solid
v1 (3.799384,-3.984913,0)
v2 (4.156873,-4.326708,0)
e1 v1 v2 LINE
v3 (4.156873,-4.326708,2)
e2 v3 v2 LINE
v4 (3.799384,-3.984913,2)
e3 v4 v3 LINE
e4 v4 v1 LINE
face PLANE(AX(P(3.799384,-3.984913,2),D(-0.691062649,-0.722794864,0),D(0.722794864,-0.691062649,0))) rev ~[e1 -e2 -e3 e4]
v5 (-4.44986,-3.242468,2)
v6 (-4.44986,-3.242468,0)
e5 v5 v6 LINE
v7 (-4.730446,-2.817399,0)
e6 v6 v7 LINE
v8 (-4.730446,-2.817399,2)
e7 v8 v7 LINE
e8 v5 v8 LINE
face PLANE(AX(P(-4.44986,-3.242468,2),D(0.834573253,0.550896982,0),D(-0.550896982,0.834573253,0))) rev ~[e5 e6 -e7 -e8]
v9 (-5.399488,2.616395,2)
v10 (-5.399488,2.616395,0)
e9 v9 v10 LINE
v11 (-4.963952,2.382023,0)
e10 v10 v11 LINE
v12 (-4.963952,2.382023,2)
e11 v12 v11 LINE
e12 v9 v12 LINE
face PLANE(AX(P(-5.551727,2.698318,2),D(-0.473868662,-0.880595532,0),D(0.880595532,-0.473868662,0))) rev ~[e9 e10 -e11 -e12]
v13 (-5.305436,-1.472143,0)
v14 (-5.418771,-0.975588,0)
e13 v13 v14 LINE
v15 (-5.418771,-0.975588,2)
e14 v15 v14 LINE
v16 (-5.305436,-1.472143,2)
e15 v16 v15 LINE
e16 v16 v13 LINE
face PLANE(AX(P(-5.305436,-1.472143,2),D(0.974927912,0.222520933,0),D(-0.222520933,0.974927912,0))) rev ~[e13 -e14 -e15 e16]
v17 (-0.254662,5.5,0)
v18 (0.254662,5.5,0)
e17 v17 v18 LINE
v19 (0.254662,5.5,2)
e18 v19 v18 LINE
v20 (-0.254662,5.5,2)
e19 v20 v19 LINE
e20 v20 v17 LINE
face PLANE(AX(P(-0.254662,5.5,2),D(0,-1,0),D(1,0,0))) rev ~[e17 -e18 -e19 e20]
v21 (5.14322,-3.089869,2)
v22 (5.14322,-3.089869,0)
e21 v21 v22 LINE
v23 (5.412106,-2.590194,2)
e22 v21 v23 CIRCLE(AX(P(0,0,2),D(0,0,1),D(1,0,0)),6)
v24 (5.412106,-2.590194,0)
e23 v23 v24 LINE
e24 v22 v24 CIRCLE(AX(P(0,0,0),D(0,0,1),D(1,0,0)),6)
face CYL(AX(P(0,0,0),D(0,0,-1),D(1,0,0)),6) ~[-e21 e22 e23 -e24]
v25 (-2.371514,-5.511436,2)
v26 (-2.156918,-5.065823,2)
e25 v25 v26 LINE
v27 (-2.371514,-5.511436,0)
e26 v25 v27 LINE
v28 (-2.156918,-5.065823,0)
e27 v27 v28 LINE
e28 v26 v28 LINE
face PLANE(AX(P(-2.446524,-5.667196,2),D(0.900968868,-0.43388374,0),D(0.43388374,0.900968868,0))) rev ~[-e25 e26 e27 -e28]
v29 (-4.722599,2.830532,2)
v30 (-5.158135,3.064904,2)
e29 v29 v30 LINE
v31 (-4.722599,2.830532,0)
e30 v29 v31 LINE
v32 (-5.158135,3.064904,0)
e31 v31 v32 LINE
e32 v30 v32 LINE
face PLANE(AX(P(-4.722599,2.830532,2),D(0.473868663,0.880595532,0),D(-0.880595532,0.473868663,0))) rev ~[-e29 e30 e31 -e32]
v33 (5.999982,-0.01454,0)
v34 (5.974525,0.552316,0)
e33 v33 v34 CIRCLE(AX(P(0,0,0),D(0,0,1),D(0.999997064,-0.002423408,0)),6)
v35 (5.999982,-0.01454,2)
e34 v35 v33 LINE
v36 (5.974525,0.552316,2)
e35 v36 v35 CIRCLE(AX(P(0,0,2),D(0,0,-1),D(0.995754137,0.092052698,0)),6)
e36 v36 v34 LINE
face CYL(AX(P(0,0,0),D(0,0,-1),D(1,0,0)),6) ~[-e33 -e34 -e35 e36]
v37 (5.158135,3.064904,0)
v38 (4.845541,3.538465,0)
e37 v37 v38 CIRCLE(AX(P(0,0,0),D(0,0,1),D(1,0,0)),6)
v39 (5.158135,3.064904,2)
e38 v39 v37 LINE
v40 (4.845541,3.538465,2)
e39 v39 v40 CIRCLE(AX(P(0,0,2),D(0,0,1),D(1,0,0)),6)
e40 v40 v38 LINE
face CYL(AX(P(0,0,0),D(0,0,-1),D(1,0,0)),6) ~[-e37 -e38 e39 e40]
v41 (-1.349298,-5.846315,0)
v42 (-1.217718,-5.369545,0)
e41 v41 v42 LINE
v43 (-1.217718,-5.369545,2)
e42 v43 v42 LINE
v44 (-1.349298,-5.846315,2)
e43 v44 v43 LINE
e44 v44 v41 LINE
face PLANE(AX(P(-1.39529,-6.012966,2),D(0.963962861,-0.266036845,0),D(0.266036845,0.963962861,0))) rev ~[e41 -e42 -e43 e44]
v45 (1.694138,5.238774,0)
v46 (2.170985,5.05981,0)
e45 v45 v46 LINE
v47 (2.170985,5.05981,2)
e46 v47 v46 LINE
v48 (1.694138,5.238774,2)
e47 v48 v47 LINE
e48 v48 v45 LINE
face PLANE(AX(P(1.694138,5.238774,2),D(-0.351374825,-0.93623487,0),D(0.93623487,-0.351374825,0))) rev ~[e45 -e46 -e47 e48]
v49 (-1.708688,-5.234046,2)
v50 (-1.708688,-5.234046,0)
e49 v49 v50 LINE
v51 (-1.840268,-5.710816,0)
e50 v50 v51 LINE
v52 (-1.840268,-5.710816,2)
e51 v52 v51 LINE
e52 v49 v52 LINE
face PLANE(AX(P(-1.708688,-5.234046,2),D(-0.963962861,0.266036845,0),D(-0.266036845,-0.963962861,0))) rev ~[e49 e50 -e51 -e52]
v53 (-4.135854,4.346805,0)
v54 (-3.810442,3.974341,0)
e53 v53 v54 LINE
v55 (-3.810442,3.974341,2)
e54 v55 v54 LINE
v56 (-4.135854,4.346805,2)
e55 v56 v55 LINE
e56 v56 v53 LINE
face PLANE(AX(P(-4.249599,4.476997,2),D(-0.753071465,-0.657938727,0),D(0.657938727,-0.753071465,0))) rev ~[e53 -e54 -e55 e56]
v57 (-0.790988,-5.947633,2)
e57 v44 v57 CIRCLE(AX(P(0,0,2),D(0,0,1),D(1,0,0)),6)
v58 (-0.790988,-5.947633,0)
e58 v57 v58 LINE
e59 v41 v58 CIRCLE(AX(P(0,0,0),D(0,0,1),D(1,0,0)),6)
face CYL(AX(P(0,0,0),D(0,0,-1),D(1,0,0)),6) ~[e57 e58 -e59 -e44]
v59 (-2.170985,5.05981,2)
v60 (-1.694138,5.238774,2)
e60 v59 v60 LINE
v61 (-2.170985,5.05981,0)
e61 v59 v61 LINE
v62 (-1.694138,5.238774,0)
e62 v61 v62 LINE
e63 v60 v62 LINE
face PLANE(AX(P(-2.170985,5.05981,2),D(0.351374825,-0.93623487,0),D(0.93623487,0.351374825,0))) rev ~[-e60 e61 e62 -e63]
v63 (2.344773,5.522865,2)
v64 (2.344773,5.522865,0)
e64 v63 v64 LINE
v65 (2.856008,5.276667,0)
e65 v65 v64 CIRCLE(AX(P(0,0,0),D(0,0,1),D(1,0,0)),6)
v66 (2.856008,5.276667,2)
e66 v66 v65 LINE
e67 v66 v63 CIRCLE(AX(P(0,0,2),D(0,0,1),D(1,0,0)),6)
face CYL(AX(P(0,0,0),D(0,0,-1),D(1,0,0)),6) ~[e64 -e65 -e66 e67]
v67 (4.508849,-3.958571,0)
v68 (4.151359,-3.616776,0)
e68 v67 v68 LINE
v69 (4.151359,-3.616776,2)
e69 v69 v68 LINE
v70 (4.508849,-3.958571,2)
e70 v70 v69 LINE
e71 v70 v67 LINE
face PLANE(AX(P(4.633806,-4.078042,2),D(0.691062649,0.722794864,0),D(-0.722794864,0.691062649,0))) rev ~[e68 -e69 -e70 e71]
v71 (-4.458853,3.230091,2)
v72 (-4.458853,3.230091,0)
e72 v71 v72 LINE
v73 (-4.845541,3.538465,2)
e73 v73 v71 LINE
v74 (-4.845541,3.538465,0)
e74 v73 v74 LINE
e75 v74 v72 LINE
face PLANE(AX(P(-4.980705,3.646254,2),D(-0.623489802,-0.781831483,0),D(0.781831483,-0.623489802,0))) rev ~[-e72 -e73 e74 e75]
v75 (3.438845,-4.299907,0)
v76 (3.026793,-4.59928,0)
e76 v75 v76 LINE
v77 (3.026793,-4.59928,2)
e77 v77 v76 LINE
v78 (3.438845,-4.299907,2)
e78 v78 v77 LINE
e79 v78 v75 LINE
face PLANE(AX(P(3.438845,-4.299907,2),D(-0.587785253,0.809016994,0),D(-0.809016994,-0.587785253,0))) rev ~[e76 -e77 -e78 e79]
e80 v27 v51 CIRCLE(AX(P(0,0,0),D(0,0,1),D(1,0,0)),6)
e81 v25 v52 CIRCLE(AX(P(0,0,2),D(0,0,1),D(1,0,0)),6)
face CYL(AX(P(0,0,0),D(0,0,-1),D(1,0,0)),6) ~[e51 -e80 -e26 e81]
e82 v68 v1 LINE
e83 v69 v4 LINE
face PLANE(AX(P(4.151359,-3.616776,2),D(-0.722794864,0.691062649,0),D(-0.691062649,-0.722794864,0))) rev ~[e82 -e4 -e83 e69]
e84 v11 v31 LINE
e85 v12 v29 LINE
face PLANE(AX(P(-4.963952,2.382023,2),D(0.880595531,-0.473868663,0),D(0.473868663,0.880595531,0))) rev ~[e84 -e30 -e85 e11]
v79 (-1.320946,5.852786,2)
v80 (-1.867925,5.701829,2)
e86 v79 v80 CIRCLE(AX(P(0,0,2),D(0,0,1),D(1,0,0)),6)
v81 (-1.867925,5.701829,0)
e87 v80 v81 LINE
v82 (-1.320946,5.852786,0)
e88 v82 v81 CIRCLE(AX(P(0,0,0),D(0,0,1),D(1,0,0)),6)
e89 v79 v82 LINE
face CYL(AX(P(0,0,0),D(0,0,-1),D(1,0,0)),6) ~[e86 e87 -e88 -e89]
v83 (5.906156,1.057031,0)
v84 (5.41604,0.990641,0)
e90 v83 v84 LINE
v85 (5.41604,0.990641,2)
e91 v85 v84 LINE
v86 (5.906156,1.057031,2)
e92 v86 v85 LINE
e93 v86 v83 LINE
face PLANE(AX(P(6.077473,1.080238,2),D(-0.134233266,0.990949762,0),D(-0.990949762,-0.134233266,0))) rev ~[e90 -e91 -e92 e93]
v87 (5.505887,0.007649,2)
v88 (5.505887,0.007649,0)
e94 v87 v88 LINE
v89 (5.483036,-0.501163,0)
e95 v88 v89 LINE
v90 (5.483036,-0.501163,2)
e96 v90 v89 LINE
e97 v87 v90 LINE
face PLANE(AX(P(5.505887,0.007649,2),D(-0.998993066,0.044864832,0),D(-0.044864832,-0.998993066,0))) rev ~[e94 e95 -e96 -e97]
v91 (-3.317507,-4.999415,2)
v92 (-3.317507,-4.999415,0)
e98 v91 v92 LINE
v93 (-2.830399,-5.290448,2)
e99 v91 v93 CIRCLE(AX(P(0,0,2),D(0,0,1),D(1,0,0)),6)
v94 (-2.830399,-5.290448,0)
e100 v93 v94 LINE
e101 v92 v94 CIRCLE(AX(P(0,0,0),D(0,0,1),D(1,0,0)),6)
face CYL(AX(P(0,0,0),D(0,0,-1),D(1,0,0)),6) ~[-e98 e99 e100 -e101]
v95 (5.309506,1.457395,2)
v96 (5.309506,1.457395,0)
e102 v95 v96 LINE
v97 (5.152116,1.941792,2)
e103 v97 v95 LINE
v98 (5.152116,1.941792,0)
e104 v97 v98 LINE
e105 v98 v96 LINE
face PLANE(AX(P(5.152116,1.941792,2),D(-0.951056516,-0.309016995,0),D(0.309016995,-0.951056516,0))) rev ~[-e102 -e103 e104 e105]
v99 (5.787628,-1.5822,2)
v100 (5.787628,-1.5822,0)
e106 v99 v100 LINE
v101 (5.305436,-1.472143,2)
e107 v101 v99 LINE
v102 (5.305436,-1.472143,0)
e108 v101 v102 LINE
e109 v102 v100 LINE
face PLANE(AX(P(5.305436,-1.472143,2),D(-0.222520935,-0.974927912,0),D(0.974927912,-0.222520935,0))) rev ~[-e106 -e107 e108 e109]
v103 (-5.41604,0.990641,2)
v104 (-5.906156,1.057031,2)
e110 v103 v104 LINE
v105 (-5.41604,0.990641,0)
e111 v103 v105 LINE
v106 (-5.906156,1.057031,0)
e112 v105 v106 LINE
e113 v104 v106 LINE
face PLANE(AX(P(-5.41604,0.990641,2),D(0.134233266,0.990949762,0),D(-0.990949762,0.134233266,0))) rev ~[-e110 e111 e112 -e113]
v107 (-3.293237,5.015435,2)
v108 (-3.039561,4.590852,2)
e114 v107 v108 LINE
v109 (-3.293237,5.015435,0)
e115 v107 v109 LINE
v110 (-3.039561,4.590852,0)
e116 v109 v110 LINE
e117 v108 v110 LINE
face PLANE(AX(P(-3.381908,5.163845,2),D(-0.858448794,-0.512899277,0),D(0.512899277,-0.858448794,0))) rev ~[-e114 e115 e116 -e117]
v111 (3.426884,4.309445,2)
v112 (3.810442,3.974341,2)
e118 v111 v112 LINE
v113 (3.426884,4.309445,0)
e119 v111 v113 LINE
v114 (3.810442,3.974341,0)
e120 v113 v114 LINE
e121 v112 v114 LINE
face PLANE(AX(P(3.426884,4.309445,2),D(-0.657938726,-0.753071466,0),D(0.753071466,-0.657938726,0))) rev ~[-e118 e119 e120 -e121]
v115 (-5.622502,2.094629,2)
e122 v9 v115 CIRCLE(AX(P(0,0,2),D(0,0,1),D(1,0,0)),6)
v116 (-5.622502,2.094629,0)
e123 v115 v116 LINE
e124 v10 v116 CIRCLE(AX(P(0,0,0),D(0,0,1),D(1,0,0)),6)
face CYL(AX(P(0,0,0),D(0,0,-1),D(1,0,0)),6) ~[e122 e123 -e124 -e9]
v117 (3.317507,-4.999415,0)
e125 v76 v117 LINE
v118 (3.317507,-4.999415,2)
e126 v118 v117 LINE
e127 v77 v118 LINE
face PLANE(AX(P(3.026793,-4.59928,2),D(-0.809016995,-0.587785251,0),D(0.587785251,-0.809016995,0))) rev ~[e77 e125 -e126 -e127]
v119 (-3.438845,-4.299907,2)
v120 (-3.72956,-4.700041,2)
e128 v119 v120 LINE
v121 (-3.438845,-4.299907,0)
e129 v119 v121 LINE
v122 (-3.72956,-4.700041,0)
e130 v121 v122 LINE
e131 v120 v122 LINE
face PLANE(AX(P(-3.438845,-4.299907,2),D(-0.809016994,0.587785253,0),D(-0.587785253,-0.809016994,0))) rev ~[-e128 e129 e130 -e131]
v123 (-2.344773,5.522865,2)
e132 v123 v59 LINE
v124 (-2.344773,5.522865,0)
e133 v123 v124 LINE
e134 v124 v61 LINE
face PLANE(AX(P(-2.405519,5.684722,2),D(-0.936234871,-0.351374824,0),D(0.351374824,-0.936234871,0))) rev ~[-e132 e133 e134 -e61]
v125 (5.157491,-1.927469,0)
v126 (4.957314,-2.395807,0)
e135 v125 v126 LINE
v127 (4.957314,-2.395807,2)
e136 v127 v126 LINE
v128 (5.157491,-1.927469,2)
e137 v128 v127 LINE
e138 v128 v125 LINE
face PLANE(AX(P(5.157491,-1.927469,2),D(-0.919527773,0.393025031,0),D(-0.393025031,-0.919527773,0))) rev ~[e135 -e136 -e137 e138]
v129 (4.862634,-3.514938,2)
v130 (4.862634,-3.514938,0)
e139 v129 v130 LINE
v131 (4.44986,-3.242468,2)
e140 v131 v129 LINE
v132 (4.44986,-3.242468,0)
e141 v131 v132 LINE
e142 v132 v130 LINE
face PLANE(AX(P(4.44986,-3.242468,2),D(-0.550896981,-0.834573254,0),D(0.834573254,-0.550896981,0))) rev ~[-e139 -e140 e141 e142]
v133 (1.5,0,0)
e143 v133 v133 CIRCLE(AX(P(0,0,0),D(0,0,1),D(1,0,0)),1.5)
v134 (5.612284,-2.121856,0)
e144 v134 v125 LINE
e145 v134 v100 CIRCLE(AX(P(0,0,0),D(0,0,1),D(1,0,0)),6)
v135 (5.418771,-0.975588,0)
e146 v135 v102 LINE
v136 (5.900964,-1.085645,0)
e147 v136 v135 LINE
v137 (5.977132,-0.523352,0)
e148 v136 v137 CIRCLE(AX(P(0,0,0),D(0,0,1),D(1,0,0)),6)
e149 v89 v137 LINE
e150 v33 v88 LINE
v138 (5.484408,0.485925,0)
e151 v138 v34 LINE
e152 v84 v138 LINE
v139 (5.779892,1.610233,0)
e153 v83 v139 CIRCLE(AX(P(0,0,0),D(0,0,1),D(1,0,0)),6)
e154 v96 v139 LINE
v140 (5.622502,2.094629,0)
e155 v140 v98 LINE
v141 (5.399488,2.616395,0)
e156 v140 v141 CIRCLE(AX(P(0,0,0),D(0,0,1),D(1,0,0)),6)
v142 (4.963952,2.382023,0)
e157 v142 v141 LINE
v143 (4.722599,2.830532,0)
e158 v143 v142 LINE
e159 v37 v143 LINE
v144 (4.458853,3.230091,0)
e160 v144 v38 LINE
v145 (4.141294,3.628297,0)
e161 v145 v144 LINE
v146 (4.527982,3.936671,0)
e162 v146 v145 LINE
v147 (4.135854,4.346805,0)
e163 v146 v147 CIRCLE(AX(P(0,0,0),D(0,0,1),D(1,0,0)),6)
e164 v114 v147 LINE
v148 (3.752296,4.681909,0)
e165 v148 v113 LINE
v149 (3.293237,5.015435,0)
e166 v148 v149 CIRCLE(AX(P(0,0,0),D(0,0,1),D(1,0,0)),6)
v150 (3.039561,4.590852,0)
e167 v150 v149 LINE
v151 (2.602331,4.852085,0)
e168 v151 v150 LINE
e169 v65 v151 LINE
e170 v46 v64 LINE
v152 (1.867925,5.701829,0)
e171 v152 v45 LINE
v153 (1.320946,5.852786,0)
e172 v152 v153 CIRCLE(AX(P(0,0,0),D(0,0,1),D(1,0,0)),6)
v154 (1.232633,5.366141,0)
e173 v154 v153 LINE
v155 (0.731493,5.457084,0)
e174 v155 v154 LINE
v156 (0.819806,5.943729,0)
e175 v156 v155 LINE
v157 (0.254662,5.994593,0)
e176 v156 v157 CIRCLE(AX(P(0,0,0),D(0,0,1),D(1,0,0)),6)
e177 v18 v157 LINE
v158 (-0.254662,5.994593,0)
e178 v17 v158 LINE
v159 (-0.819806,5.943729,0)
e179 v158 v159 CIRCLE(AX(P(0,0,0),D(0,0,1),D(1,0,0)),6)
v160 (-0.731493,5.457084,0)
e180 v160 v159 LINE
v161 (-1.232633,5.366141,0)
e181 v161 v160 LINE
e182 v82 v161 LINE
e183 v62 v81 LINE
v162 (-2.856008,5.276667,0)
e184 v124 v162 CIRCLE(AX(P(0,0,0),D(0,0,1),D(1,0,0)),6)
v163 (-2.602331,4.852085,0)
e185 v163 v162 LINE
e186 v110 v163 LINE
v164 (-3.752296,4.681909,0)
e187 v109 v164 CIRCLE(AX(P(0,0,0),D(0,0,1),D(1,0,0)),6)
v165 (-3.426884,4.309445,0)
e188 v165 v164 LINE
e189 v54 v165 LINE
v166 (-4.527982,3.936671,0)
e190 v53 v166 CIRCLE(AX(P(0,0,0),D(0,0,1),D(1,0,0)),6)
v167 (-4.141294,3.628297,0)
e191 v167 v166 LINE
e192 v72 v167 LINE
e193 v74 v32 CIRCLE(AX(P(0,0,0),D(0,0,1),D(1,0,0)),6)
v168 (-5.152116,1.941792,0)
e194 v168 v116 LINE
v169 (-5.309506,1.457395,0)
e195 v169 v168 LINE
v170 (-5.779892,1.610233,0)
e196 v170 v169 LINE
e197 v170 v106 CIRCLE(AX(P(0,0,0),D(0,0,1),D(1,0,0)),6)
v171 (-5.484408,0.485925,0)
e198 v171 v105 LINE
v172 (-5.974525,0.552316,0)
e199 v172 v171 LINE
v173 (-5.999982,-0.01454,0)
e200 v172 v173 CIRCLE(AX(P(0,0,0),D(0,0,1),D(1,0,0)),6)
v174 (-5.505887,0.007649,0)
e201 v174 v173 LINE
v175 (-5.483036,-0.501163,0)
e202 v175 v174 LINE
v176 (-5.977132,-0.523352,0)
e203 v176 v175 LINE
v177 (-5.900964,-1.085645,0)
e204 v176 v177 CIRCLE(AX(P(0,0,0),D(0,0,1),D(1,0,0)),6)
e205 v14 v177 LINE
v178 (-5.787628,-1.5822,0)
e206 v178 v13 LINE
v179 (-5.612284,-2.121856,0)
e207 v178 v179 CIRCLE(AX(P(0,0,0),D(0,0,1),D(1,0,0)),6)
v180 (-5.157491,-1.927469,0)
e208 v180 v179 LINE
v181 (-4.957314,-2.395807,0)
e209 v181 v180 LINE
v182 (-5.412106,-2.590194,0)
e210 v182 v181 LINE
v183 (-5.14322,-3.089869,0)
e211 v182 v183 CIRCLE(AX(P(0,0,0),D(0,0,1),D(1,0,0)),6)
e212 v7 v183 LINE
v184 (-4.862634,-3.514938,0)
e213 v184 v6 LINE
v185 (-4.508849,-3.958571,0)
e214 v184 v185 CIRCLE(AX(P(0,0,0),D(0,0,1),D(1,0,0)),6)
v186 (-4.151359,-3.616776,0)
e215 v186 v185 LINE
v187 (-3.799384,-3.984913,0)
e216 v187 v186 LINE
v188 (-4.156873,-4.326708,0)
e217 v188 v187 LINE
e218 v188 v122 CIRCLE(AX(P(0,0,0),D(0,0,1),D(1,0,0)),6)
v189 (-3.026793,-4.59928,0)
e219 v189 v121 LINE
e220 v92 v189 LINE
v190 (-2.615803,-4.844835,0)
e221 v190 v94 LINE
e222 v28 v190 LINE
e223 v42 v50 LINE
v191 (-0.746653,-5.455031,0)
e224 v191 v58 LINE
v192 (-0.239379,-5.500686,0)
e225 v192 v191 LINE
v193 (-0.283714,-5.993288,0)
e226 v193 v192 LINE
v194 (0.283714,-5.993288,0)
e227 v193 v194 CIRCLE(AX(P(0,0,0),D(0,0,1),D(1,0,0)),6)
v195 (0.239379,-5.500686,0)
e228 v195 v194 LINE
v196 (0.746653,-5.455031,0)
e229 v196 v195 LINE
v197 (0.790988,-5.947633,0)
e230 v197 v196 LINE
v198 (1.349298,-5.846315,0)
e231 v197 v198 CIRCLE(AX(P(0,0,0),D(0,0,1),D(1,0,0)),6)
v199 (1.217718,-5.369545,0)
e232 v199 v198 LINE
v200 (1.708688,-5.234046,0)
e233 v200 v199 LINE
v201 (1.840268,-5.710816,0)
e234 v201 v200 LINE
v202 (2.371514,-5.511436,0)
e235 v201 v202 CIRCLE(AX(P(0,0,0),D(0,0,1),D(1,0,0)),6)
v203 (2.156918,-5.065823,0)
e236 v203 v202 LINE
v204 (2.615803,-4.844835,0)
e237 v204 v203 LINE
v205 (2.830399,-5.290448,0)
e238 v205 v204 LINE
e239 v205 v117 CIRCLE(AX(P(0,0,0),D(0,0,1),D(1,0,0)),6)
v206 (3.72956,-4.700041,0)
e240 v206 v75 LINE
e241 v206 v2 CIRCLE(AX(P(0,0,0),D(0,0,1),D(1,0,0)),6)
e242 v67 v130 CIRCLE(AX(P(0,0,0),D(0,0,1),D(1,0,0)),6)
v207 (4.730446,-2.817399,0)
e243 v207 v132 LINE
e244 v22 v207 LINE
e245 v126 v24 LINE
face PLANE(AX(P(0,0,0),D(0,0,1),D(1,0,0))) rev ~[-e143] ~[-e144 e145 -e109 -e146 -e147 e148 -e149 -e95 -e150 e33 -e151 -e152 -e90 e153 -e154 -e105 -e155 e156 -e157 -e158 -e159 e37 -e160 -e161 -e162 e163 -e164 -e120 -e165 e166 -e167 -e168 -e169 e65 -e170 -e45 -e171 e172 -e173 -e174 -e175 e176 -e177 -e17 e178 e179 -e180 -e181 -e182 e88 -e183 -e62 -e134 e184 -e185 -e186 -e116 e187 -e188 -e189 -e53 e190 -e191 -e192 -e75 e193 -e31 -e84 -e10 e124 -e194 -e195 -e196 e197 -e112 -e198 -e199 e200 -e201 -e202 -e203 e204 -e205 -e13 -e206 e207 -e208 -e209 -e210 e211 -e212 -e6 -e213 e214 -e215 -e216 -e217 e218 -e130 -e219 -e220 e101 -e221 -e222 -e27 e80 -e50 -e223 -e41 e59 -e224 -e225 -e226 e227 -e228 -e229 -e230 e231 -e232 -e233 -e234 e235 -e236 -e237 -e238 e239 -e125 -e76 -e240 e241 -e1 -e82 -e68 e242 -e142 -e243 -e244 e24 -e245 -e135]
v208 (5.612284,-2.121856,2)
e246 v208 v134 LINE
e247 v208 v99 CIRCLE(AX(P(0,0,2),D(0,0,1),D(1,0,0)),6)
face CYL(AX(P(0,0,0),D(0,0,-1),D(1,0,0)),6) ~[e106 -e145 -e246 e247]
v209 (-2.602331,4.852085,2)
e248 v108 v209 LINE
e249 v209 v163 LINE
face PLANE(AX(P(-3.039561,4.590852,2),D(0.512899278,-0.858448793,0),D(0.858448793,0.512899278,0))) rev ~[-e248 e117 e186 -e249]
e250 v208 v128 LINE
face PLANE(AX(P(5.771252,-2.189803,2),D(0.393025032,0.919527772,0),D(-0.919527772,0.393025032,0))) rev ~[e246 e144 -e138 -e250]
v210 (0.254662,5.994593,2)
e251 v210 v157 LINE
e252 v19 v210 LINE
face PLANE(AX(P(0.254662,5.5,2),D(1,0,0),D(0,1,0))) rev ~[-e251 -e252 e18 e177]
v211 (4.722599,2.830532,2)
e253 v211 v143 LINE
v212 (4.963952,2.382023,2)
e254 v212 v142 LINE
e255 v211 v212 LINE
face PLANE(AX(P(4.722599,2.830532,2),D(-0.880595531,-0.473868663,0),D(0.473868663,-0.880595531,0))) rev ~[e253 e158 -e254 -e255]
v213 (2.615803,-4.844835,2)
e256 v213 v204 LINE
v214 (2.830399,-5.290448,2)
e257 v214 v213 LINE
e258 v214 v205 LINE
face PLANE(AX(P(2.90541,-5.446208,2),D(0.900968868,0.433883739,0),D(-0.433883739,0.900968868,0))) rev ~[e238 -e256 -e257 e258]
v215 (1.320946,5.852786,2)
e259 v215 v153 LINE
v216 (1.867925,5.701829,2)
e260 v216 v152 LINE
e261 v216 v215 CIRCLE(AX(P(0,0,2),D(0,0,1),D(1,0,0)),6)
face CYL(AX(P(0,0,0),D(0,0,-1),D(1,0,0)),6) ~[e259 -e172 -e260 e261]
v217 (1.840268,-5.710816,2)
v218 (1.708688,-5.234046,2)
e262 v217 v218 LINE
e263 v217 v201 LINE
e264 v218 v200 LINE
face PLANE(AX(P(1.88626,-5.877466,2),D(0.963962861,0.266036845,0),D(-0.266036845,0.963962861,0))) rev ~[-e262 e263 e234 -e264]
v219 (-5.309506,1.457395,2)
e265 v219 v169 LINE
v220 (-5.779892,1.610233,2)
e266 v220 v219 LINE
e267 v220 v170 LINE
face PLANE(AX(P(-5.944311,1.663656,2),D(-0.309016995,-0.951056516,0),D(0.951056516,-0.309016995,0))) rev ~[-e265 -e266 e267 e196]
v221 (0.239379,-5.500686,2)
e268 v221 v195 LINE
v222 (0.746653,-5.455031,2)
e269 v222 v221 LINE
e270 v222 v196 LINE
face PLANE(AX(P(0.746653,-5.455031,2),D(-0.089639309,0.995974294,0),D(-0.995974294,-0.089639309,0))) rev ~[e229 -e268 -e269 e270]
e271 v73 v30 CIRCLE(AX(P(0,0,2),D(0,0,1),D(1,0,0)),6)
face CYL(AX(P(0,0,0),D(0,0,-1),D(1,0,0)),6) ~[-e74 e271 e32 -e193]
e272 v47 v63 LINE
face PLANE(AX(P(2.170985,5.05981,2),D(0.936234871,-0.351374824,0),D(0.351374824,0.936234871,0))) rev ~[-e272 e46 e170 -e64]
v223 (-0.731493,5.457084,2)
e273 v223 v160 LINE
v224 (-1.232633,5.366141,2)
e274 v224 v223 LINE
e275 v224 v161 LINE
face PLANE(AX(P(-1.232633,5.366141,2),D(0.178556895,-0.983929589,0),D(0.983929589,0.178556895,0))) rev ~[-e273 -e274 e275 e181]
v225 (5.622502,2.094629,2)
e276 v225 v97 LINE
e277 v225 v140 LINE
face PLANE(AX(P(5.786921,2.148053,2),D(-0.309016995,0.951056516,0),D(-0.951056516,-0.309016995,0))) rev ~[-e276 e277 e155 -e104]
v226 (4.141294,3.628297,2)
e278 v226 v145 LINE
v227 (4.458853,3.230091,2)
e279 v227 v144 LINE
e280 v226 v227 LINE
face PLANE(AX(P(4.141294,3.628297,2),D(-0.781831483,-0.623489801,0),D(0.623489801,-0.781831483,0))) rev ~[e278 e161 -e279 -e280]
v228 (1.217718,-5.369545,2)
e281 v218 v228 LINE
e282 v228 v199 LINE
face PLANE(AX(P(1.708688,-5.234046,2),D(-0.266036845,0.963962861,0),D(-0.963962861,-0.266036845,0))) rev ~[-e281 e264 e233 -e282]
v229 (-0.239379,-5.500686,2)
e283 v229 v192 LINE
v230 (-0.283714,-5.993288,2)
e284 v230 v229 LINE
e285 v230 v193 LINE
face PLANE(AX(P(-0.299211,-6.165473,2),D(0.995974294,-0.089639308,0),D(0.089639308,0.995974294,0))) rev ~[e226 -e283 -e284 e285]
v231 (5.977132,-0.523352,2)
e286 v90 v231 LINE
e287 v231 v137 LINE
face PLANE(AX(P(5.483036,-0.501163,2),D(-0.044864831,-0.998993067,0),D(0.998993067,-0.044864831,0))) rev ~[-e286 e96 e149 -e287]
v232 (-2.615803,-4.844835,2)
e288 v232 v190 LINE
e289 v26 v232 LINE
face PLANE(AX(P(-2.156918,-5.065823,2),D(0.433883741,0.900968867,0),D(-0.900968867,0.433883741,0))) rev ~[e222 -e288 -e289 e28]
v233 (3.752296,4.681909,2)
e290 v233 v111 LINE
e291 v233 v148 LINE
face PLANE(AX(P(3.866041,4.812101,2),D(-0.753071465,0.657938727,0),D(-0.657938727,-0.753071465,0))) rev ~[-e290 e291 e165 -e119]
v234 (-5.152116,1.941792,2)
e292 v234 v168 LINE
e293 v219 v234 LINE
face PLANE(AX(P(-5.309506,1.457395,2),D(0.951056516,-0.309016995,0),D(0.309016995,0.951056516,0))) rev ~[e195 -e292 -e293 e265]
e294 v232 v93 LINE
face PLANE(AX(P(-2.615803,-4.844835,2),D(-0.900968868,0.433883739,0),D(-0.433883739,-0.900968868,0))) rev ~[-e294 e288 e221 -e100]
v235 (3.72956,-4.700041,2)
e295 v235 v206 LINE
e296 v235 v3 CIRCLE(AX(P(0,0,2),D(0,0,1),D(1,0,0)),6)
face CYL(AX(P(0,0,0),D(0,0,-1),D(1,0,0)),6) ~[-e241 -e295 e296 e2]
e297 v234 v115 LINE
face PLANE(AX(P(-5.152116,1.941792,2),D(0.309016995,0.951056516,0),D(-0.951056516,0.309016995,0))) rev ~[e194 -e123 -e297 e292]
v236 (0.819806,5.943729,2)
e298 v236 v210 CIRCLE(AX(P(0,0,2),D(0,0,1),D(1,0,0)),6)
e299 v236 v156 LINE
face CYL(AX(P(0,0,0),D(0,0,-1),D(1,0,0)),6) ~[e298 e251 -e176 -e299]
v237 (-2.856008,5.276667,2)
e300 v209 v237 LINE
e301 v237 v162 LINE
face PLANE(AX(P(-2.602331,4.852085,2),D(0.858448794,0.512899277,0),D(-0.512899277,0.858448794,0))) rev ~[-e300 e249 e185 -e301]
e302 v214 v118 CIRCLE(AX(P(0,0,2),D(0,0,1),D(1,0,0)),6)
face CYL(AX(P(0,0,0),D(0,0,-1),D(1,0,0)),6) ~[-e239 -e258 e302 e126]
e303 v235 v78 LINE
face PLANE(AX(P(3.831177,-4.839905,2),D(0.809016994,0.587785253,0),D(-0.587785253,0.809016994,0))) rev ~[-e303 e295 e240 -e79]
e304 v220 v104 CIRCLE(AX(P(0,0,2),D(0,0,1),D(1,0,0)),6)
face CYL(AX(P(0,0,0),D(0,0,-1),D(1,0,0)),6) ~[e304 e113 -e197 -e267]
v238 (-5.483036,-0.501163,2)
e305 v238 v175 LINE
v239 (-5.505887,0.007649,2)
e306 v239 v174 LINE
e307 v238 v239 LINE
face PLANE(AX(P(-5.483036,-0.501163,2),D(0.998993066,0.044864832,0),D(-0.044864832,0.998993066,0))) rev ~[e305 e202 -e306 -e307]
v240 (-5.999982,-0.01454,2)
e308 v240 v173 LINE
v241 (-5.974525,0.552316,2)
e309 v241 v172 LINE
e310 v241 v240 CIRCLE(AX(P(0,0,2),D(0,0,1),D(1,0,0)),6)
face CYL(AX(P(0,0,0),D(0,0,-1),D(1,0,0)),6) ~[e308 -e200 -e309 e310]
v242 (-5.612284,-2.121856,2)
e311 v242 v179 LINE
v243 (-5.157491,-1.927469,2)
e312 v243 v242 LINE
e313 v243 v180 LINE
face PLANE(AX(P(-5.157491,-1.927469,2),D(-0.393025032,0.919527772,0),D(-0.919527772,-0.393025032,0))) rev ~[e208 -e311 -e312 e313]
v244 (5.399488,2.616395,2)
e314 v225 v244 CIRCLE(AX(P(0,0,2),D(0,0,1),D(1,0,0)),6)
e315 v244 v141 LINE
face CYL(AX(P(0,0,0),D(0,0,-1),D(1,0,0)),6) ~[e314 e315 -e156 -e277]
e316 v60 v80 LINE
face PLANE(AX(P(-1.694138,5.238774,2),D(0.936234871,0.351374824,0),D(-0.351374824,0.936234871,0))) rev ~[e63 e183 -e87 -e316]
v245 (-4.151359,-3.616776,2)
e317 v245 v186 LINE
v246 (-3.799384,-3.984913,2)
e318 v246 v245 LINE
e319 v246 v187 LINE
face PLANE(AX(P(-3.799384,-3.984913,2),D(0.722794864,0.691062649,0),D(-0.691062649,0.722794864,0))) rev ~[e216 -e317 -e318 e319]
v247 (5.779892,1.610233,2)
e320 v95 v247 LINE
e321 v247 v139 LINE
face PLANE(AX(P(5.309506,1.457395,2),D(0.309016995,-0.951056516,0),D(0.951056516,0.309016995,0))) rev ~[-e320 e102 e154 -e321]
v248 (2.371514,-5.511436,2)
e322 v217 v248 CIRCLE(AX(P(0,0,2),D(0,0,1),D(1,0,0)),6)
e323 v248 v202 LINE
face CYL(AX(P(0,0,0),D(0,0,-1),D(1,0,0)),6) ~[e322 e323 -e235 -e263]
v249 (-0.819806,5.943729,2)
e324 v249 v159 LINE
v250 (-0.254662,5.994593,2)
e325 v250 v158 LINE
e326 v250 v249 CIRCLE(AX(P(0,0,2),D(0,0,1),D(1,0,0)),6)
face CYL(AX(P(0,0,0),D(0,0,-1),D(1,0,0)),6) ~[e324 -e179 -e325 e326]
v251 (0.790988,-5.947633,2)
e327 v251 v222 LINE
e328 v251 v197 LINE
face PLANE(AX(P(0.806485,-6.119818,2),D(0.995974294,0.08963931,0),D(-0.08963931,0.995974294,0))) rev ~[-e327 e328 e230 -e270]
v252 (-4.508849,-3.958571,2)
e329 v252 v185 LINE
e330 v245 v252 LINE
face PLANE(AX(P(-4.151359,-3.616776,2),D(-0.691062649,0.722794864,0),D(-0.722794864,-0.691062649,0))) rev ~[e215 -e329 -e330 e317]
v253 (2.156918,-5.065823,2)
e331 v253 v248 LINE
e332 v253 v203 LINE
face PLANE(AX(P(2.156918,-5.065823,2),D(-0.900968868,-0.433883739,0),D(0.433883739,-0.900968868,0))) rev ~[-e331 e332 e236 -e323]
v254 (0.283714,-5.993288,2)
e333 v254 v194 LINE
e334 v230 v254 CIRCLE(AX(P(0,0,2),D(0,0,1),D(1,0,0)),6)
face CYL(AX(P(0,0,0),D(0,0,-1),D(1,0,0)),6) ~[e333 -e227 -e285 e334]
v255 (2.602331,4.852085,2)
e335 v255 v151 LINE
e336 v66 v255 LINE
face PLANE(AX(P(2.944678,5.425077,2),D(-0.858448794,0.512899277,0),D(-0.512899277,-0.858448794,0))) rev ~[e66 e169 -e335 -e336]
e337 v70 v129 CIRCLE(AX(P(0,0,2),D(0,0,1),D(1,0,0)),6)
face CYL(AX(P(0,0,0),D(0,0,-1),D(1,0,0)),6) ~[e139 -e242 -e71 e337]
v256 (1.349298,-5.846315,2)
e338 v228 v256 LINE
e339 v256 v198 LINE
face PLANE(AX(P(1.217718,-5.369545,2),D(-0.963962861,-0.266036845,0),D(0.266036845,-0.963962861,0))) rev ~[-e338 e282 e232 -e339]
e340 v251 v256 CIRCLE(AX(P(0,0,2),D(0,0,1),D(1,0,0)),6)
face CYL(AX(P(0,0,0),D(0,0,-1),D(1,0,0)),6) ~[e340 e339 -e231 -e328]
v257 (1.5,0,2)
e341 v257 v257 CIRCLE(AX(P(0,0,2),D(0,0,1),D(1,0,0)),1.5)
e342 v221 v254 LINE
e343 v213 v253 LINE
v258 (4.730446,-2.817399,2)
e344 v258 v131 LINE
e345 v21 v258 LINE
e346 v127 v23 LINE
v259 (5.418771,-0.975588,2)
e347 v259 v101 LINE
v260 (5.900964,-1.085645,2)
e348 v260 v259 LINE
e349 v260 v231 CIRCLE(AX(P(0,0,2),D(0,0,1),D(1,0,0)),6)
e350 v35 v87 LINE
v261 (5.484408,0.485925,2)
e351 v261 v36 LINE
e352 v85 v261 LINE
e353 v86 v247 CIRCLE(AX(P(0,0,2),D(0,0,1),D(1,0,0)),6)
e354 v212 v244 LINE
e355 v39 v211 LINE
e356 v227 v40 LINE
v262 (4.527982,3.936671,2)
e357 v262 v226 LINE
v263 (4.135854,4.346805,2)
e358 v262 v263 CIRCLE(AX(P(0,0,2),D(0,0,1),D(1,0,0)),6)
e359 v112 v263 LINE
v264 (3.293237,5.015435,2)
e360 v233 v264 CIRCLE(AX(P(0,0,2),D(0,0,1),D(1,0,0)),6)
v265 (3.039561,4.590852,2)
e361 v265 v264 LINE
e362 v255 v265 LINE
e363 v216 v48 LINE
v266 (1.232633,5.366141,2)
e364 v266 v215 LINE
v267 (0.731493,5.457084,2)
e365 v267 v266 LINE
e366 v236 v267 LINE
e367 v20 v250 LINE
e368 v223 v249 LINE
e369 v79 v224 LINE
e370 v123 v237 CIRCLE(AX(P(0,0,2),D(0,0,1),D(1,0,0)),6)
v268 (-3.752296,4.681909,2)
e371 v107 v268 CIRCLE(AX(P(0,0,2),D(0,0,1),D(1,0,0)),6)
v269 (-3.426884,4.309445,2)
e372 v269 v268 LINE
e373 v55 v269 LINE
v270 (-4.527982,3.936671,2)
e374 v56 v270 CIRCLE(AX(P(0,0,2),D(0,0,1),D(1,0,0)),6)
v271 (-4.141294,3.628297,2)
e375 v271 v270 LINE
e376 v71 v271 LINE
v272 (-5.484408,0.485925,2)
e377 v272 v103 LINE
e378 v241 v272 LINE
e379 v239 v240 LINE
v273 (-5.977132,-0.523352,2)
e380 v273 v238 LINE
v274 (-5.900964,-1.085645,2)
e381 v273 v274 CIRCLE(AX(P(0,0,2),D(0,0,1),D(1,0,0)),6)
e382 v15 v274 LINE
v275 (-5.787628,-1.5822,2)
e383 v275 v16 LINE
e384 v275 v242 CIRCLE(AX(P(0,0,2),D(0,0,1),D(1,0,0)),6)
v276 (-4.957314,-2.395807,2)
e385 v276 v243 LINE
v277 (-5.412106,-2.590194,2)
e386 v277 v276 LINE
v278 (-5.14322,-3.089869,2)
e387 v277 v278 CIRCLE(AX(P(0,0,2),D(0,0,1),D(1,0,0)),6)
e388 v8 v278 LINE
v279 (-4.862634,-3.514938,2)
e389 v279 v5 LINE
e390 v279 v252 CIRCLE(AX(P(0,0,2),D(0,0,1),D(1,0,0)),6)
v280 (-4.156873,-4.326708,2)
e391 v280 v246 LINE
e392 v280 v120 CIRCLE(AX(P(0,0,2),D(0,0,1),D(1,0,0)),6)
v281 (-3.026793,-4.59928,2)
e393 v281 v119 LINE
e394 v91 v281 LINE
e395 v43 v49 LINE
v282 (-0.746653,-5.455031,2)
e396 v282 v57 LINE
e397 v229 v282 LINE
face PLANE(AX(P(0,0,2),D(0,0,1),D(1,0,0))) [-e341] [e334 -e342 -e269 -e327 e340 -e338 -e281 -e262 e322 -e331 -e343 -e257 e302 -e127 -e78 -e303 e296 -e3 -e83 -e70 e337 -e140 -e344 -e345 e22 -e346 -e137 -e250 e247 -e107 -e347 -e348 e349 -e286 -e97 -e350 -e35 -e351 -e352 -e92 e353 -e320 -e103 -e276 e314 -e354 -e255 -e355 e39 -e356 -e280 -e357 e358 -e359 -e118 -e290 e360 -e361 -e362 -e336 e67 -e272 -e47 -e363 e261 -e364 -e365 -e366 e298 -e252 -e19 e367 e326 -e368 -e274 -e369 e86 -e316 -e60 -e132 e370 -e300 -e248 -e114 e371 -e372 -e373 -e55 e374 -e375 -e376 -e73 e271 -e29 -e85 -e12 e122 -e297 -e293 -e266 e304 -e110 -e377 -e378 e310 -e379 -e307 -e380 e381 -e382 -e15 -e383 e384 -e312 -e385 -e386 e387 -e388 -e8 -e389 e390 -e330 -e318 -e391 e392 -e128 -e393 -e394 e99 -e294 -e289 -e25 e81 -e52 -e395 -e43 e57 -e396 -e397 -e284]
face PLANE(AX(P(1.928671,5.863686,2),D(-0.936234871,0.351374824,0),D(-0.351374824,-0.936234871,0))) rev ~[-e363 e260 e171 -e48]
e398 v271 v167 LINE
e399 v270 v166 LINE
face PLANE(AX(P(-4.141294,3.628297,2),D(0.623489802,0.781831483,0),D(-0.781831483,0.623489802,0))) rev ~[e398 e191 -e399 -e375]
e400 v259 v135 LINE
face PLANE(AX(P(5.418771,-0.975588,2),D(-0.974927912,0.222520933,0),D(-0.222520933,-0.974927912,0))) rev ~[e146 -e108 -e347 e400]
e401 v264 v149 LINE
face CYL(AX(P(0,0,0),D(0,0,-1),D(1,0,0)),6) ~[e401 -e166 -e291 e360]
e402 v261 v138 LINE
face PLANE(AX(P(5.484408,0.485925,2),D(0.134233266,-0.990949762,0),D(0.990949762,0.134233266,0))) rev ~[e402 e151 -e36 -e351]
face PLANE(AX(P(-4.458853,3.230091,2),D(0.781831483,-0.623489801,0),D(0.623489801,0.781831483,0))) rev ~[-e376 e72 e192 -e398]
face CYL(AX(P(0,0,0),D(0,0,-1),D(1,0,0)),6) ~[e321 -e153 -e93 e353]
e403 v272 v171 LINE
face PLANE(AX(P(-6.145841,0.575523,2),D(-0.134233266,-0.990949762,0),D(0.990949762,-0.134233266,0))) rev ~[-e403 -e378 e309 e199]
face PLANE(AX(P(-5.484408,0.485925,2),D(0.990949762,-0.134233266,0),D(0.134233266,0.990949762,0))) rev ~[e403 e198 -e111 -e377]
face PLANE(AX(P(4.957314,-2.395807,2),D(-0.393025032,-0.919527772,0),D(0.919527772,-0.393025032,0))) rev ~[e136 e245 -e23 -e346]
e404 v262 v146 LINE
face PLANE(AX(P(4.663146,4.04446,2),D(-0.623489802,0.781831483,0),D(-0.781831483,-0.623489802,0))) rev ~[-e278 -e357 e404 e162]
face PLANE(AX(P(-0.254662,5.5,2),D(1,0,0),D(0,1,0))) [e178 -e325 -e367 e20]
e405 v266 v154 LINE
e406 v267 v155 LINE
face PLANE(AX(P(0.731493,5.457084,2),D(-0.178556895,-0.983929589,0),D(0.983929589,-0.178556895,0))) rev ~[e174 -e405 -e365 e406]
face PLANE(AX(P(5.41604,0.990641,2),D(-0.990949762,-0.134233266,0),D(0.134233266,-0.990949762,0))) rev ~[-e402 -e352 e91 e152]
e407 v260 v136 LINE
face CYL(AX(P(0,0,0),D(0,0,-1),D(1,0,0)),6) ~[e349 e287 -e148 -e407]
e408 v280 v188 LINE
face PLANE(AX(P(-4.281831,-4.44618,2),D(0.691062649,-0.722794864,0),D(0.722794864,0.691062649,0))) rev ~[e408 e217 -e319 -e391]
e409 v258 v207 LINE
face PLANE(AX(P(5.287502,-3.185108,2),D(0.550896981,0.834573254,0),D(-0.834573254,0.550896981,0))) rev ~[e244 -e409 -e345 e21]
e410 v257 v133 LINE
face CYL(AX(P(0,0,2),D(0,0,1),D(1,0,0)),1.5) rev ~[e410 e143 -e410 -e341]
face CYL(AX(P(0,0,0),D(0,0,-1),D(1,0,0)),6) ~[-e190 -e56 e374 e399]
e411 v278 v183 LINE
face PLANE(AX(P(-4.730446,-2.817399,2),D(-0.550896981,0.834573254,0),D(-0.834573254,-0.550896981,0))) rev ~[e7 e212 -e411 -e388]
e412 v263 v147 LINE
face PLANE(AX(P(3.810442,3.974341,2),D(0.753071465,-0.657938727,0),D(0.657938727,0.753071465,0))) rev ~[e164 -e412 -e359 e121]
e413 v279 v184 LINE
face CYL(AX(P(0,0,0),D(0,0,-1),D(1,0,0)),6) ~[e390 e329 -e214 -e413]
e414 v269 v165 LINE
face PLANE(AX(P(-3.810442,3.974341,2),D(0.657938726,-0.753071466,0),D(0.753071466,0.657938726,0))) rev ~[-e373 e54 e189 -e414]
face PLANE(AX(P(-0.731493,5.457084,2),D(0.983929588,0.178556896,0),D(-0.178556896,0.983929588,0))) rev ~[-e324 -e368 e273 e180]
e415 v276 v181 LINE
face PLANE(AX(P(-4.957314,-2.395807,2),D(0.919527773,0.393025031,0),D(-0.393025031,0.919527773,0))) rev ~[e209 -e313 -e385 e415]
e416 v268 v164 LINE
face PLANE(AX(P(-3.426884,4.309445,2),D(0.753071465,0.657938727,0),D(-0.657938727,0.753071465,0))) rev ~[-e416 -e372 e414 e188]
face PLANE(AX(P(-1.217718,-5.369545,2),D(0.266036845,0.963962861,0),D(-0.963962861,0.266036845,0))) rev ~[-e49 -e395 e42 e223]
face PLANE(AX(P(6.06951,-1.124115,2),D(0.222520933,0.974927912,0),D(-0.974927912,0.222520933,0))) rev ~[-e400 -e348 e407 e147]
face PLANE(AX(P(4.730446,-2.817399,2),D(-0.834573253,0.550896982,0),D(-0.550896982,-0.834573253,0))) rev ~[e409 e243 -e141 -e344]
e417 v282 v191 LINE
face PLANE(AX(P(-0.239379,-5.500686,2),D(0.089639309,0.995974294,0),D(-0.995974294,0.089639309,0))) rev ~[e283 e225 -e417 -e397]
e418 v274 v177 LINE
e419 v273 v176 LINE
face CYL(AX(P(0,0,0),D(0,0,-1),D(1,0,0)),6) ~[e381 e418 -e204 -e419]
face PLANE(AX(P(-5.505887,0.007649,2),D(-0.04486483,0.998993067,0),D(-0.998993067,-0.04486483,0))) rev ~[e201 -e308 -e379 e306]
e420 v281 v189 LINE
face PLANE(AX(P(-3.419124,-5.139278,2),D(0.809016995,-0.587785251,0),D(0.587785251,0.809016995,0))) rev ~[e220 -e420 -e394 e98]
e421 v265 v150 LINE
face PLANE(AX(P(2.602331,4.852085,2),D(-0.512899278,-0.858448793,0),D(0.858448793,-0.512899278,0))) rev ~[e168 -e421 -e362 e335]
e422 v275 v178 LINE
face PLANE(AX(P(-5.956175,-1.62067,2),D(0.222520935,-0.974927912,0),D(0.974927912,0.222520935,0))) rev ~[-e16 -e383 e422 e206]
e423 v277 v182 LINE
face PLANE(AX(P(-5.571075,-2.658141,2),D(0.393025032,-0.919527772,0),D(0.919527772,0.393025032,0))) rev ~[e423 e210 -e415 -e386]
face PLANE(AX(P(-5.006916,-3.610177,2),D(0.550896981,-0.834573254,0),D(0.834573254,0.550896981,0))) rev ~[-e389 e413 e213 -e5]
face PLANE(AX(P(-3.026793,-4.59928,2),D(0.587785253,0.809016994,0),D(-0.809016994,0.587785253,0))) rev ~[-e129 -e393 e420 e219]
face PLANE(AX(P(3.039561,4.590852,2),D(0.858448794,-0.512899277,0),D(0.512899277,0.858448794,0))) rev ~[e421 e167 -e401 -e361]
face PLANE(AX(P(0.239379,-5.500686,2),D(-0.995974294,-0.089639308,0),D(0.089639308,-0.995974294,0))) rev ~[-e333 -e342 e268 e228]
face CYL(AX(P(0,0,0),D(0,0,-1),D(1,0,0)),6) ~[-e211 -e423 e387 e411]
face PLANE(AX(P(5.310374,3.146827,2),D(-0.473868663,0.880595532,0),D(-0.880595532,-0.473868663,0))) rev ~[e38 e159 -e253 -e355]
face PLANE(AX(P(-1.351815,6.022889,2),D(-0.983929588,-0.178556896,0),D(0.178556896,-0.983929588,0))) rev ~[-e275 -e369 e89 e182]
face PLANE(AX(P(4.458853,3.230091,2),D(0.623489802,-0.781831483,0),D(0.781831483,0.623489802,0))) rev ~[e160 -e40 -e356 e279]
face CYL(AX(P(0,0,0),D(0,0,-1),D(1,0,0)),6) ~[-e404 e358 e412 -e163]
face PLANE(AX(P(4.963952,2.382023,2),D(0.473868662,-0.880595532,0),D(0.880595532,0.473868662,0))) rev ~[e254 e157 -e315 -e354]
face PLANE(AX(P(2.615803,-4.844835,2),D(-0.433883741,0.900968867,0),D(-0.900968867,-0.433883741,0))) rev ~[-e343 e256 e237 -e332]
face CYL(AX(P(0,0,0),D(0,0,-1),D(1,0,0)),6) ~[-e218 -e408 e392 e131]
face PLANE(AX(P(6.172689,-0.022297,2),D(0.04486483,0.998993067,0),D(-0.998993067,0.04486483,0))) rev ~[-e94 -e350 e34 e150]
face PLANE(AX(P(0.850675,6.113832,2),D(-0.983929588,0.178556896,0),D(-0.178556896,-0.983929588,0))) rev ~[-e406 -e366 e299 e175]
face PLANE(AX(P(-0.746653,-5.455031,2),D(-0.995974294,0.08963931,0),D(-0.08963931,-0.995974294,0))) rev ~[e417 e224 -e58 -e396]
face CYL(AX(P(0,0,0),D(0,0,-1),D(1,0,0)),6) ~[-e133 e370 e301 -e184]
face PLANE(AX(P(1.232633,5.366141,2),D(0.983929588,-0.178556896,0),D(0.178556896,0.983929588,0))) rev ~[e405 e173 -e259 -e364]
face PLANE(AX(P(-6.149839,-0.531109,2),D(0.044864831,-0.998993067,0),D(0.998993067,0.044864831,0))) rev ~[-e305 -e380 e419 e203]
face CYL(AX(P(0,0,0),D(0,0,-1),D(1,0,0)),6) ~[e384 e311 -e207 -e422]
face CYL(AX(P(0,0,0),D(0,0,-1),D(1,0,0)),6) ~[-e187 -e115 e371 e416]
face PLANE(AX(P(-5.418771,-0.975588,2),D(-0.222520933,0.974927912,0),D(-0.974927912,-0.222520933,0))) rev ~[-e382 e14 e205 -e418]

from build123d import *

# Parameters (mm, degrees)
SKETCH1_R           = 6
BOSS_EXTRUDE1_DEPTH = 2
SKETCH2_W           = 0.509324766
SKETCH2_H           = 0.66747415
CUT_EXTRUDE3_DEPTH  = 2
SKETCH3_R           = 1.5
CUT_EXTRUDE4_DEPTH  = 2


with BuildPart() as part:
    # Sketch1 → Boss-Extrude1 (new body)
    with BuildSketch(Plane.XY):
        Circle(SKETCH1_R)
    extrude(amount=BOSS_EXTRUDE1_DEPTH)

    # Sketch2 → Cut-Extrude3 (cut)
    with BuildSketch(Plane.XY.offset(2)):
        with Locations((0, 5.833737075)):
            Rectangle(SKETCH2_W, SKETCH2_H)
        Polygon((1.232632775, 5.366141013), (1.351814887, 6.022888578), (0.850675179, 6.113832027), (0.731493067, 5.457084462), align=None)
        Polygon((2.170985336, 5.059809838), (2.405518948, 5.684722413), (1.928671341, 5.863686313), (1.694137729, 5.238773739), align=None)
        Polygon((3.039560641, 4.590852212), (3.38190765, 5.163844591), (2.944678419, 5.425076896), (2.60233141, 4.852084517), align=None)
        Polygon((3.810441967, 3.974340819), (4.249599059, 4.476996555), (3.86604111, 4.812101043), (3.426884018, 4.309445307), align=None)
        Polygon((4.458852552, 3.230090842), (4.980704856, 3.646254167), (4.663146059, 4.044460304), (4.141293755, 3.628296979), align=None)
        Polygon((4.963951948, 2.382023087), (5.551726702, 2.698318169), (5.310373656, 3.146827283), (4.722598902, 2.8305322), align=None)
        Polygon((5.309505844, 1.45739515), (5.944311483, 1.663656006), (5.786921475, 2.148052644), (5.152115835, 1.941791788), align=None)
        Polygon((5.484407853, 0.485925334), (6.145841203, 0.575522569), (6.077472876, 1.080237825), (5.416039526, 0.99064059), align=None)
        Polygon((5.483036481, -0.501162522), (6.149838529, -0.531108637), (6.172689298, -0.022296726), (5.505887251, 0.007649388), align=None)
        Polygon((5.305435806, -1.472142602), (5.956174985, -1.620669574), (6.069510408, -1.124114642), (5.418771228, -0.975587671), align=None)
        Polygon((4.957314058, -2.395806808), (5.571075076, -2.658140857), (5.771252458, -2.189802589), (5.15749144, -1.92746854), align=None)
        Polygon((4.449860157, -3.242467812), (5.00691623, -3.610177306), (5.287501707, -3.185108478), (4.730445634, -2.817398984), align=None)
        Polygon((3.79938409, -3.984913232), (4.281830977, -4.446179686), (4.633806299, -4.078042361), (4.151359412, -3.616775907), align=None)
        Polygon((3.026792692, -4.599280262), (3.419124153, -5.139278193), (3.831176545, -4.839904606), (3.438845083, -4.299906676), align=None)
        Polygon((2.156917686, -5.065822641), (2.446523866, -5.66719607), (2.905409624, -5.446208335), (2.615803444, -4.844834906), align=None)
        Polygon((1.217717571, -5.369545311), (1.395290288, -6.012965602), (1.886260447, -5.877466447), (1.70868773, -5.234046157), align=None)
        Polygon((0.239379012, -5.500686377), (0.299210933, -6.165473472), (0.806485308, -6.119817952), (0.746653386, -5.455030857), align=None)
        Polygon((-0.746653386, -5.455030857), (-0.806485308, -6.119817952), (-0.299210933, -6.165473472), (-0.239379012, -5.500686377), align=None)
        Polygon((-1.70868773, -5.234046157), (-1.886260447, -5.877466447), (-1.395290288, -6.012965602), (-1.217717571, -5.369545311), align=None)
        Polygon((-2.615803444, -4.844834906), (-2.905409624, -5.446208335), (-2.446523866, -5.667196069), (-2.156917686, -5.065822641), align=None)
        Polygon((-3.438845083, -4.299906676), (-3.831176545, -4.839904606), (-3.419124153, -5.139278193), (-3.026792692, -4.599280262), align=None)
        Polygon((-4.151359412, -3.616775907), (-4.633806299, -4.078042361), (-4.281830977, -4.446179686), (-3.79938409, -3.984913232), align=None)
        Polygon((-4.730445634, -2.817398984), (-5.287501707, -3.185108478), (-5.00691623, -3.610177306), (-4.449860157, -3.242467812), align=None)
        Polygon((-5.15749144, -1.92746854), (-5.771252458, -2.189802589), (-5.571075076, -2.658140857), (-4.957314058, -2.395806808), align=None)
        Polygon((-5.418771228, -0.975587671), (-6.069510408, -1.124114642), (-5.956174985, -1.620669574), (-5.305435806, -1.472142602), align=None)
        Polygon((-5.505887251, 0.007649388), (-6.172689298, -0.022296726), (-6.149838529, -0.531108637), (-5.483036481, -0.501162522), align=None)
        Polygon((-5.416039526, 0.99064059), (-6.077472876, 1.080237825), (-6.145841203, 0.575522569), (-5.484407853, 0.485925334), align=None)
        Polygon((-5.152115835, 1.941791788), (-5.786921475, 2.148052644), (-5.944311483, 1.663656006), (-5.309505844, 1.45739515), align=None)
        Polygon((-4.722598902, 2.8305322), (-5.310373656, 3.146827283), (-5.551726702, 2.698318169), (-4.963951948, 2.382023087), align=None)
        Polygon((-4.141293755, 3.628296979), (-4.663146059, 4.044460304), (-4.980704856, 3.646254167), (-4.458852552, 3.230090842), align=None)
        Polygon((-3.426884018, 4.309445307), (-3.86604111, 4.812101043), (-4.249599059, 4.476996555), (-3.810441967, 3.974340819), align=None)
        Polygon((-2.60233141, 4.852084517), (-2.944678419, 5.425076896), (-3.38190765, 5.163844591), (-3.039560641, 4.590852212), align=None)
        Polygon((-1.694137729, 5.238773739), (-1.928671341, 5.863686313), (-2.405518948, 5.684722413), (-2.170985336, 5.059809838), align=None)
        Polygon((-0.731493067, 5.457084462), (-0.850675179, 6.113832027), (-1.351814887, 6.022888578), (-1.232632775, 5.366141013), align=None)
    extrude(amount=-CUT_EXTRUDE3_DEPTH, mode=Mode.SUBTRACT)

    # Sketch3 → Cut-Extrude4 (cut)
    with BuildSketch(Plane.XY.offset(2)):
        Circle(SKETCH3_R)
    extrude(amount=-CUT_EXTRUDE4_DEPTH, mode=Mode.SUBTRACT)


solid = part.part
